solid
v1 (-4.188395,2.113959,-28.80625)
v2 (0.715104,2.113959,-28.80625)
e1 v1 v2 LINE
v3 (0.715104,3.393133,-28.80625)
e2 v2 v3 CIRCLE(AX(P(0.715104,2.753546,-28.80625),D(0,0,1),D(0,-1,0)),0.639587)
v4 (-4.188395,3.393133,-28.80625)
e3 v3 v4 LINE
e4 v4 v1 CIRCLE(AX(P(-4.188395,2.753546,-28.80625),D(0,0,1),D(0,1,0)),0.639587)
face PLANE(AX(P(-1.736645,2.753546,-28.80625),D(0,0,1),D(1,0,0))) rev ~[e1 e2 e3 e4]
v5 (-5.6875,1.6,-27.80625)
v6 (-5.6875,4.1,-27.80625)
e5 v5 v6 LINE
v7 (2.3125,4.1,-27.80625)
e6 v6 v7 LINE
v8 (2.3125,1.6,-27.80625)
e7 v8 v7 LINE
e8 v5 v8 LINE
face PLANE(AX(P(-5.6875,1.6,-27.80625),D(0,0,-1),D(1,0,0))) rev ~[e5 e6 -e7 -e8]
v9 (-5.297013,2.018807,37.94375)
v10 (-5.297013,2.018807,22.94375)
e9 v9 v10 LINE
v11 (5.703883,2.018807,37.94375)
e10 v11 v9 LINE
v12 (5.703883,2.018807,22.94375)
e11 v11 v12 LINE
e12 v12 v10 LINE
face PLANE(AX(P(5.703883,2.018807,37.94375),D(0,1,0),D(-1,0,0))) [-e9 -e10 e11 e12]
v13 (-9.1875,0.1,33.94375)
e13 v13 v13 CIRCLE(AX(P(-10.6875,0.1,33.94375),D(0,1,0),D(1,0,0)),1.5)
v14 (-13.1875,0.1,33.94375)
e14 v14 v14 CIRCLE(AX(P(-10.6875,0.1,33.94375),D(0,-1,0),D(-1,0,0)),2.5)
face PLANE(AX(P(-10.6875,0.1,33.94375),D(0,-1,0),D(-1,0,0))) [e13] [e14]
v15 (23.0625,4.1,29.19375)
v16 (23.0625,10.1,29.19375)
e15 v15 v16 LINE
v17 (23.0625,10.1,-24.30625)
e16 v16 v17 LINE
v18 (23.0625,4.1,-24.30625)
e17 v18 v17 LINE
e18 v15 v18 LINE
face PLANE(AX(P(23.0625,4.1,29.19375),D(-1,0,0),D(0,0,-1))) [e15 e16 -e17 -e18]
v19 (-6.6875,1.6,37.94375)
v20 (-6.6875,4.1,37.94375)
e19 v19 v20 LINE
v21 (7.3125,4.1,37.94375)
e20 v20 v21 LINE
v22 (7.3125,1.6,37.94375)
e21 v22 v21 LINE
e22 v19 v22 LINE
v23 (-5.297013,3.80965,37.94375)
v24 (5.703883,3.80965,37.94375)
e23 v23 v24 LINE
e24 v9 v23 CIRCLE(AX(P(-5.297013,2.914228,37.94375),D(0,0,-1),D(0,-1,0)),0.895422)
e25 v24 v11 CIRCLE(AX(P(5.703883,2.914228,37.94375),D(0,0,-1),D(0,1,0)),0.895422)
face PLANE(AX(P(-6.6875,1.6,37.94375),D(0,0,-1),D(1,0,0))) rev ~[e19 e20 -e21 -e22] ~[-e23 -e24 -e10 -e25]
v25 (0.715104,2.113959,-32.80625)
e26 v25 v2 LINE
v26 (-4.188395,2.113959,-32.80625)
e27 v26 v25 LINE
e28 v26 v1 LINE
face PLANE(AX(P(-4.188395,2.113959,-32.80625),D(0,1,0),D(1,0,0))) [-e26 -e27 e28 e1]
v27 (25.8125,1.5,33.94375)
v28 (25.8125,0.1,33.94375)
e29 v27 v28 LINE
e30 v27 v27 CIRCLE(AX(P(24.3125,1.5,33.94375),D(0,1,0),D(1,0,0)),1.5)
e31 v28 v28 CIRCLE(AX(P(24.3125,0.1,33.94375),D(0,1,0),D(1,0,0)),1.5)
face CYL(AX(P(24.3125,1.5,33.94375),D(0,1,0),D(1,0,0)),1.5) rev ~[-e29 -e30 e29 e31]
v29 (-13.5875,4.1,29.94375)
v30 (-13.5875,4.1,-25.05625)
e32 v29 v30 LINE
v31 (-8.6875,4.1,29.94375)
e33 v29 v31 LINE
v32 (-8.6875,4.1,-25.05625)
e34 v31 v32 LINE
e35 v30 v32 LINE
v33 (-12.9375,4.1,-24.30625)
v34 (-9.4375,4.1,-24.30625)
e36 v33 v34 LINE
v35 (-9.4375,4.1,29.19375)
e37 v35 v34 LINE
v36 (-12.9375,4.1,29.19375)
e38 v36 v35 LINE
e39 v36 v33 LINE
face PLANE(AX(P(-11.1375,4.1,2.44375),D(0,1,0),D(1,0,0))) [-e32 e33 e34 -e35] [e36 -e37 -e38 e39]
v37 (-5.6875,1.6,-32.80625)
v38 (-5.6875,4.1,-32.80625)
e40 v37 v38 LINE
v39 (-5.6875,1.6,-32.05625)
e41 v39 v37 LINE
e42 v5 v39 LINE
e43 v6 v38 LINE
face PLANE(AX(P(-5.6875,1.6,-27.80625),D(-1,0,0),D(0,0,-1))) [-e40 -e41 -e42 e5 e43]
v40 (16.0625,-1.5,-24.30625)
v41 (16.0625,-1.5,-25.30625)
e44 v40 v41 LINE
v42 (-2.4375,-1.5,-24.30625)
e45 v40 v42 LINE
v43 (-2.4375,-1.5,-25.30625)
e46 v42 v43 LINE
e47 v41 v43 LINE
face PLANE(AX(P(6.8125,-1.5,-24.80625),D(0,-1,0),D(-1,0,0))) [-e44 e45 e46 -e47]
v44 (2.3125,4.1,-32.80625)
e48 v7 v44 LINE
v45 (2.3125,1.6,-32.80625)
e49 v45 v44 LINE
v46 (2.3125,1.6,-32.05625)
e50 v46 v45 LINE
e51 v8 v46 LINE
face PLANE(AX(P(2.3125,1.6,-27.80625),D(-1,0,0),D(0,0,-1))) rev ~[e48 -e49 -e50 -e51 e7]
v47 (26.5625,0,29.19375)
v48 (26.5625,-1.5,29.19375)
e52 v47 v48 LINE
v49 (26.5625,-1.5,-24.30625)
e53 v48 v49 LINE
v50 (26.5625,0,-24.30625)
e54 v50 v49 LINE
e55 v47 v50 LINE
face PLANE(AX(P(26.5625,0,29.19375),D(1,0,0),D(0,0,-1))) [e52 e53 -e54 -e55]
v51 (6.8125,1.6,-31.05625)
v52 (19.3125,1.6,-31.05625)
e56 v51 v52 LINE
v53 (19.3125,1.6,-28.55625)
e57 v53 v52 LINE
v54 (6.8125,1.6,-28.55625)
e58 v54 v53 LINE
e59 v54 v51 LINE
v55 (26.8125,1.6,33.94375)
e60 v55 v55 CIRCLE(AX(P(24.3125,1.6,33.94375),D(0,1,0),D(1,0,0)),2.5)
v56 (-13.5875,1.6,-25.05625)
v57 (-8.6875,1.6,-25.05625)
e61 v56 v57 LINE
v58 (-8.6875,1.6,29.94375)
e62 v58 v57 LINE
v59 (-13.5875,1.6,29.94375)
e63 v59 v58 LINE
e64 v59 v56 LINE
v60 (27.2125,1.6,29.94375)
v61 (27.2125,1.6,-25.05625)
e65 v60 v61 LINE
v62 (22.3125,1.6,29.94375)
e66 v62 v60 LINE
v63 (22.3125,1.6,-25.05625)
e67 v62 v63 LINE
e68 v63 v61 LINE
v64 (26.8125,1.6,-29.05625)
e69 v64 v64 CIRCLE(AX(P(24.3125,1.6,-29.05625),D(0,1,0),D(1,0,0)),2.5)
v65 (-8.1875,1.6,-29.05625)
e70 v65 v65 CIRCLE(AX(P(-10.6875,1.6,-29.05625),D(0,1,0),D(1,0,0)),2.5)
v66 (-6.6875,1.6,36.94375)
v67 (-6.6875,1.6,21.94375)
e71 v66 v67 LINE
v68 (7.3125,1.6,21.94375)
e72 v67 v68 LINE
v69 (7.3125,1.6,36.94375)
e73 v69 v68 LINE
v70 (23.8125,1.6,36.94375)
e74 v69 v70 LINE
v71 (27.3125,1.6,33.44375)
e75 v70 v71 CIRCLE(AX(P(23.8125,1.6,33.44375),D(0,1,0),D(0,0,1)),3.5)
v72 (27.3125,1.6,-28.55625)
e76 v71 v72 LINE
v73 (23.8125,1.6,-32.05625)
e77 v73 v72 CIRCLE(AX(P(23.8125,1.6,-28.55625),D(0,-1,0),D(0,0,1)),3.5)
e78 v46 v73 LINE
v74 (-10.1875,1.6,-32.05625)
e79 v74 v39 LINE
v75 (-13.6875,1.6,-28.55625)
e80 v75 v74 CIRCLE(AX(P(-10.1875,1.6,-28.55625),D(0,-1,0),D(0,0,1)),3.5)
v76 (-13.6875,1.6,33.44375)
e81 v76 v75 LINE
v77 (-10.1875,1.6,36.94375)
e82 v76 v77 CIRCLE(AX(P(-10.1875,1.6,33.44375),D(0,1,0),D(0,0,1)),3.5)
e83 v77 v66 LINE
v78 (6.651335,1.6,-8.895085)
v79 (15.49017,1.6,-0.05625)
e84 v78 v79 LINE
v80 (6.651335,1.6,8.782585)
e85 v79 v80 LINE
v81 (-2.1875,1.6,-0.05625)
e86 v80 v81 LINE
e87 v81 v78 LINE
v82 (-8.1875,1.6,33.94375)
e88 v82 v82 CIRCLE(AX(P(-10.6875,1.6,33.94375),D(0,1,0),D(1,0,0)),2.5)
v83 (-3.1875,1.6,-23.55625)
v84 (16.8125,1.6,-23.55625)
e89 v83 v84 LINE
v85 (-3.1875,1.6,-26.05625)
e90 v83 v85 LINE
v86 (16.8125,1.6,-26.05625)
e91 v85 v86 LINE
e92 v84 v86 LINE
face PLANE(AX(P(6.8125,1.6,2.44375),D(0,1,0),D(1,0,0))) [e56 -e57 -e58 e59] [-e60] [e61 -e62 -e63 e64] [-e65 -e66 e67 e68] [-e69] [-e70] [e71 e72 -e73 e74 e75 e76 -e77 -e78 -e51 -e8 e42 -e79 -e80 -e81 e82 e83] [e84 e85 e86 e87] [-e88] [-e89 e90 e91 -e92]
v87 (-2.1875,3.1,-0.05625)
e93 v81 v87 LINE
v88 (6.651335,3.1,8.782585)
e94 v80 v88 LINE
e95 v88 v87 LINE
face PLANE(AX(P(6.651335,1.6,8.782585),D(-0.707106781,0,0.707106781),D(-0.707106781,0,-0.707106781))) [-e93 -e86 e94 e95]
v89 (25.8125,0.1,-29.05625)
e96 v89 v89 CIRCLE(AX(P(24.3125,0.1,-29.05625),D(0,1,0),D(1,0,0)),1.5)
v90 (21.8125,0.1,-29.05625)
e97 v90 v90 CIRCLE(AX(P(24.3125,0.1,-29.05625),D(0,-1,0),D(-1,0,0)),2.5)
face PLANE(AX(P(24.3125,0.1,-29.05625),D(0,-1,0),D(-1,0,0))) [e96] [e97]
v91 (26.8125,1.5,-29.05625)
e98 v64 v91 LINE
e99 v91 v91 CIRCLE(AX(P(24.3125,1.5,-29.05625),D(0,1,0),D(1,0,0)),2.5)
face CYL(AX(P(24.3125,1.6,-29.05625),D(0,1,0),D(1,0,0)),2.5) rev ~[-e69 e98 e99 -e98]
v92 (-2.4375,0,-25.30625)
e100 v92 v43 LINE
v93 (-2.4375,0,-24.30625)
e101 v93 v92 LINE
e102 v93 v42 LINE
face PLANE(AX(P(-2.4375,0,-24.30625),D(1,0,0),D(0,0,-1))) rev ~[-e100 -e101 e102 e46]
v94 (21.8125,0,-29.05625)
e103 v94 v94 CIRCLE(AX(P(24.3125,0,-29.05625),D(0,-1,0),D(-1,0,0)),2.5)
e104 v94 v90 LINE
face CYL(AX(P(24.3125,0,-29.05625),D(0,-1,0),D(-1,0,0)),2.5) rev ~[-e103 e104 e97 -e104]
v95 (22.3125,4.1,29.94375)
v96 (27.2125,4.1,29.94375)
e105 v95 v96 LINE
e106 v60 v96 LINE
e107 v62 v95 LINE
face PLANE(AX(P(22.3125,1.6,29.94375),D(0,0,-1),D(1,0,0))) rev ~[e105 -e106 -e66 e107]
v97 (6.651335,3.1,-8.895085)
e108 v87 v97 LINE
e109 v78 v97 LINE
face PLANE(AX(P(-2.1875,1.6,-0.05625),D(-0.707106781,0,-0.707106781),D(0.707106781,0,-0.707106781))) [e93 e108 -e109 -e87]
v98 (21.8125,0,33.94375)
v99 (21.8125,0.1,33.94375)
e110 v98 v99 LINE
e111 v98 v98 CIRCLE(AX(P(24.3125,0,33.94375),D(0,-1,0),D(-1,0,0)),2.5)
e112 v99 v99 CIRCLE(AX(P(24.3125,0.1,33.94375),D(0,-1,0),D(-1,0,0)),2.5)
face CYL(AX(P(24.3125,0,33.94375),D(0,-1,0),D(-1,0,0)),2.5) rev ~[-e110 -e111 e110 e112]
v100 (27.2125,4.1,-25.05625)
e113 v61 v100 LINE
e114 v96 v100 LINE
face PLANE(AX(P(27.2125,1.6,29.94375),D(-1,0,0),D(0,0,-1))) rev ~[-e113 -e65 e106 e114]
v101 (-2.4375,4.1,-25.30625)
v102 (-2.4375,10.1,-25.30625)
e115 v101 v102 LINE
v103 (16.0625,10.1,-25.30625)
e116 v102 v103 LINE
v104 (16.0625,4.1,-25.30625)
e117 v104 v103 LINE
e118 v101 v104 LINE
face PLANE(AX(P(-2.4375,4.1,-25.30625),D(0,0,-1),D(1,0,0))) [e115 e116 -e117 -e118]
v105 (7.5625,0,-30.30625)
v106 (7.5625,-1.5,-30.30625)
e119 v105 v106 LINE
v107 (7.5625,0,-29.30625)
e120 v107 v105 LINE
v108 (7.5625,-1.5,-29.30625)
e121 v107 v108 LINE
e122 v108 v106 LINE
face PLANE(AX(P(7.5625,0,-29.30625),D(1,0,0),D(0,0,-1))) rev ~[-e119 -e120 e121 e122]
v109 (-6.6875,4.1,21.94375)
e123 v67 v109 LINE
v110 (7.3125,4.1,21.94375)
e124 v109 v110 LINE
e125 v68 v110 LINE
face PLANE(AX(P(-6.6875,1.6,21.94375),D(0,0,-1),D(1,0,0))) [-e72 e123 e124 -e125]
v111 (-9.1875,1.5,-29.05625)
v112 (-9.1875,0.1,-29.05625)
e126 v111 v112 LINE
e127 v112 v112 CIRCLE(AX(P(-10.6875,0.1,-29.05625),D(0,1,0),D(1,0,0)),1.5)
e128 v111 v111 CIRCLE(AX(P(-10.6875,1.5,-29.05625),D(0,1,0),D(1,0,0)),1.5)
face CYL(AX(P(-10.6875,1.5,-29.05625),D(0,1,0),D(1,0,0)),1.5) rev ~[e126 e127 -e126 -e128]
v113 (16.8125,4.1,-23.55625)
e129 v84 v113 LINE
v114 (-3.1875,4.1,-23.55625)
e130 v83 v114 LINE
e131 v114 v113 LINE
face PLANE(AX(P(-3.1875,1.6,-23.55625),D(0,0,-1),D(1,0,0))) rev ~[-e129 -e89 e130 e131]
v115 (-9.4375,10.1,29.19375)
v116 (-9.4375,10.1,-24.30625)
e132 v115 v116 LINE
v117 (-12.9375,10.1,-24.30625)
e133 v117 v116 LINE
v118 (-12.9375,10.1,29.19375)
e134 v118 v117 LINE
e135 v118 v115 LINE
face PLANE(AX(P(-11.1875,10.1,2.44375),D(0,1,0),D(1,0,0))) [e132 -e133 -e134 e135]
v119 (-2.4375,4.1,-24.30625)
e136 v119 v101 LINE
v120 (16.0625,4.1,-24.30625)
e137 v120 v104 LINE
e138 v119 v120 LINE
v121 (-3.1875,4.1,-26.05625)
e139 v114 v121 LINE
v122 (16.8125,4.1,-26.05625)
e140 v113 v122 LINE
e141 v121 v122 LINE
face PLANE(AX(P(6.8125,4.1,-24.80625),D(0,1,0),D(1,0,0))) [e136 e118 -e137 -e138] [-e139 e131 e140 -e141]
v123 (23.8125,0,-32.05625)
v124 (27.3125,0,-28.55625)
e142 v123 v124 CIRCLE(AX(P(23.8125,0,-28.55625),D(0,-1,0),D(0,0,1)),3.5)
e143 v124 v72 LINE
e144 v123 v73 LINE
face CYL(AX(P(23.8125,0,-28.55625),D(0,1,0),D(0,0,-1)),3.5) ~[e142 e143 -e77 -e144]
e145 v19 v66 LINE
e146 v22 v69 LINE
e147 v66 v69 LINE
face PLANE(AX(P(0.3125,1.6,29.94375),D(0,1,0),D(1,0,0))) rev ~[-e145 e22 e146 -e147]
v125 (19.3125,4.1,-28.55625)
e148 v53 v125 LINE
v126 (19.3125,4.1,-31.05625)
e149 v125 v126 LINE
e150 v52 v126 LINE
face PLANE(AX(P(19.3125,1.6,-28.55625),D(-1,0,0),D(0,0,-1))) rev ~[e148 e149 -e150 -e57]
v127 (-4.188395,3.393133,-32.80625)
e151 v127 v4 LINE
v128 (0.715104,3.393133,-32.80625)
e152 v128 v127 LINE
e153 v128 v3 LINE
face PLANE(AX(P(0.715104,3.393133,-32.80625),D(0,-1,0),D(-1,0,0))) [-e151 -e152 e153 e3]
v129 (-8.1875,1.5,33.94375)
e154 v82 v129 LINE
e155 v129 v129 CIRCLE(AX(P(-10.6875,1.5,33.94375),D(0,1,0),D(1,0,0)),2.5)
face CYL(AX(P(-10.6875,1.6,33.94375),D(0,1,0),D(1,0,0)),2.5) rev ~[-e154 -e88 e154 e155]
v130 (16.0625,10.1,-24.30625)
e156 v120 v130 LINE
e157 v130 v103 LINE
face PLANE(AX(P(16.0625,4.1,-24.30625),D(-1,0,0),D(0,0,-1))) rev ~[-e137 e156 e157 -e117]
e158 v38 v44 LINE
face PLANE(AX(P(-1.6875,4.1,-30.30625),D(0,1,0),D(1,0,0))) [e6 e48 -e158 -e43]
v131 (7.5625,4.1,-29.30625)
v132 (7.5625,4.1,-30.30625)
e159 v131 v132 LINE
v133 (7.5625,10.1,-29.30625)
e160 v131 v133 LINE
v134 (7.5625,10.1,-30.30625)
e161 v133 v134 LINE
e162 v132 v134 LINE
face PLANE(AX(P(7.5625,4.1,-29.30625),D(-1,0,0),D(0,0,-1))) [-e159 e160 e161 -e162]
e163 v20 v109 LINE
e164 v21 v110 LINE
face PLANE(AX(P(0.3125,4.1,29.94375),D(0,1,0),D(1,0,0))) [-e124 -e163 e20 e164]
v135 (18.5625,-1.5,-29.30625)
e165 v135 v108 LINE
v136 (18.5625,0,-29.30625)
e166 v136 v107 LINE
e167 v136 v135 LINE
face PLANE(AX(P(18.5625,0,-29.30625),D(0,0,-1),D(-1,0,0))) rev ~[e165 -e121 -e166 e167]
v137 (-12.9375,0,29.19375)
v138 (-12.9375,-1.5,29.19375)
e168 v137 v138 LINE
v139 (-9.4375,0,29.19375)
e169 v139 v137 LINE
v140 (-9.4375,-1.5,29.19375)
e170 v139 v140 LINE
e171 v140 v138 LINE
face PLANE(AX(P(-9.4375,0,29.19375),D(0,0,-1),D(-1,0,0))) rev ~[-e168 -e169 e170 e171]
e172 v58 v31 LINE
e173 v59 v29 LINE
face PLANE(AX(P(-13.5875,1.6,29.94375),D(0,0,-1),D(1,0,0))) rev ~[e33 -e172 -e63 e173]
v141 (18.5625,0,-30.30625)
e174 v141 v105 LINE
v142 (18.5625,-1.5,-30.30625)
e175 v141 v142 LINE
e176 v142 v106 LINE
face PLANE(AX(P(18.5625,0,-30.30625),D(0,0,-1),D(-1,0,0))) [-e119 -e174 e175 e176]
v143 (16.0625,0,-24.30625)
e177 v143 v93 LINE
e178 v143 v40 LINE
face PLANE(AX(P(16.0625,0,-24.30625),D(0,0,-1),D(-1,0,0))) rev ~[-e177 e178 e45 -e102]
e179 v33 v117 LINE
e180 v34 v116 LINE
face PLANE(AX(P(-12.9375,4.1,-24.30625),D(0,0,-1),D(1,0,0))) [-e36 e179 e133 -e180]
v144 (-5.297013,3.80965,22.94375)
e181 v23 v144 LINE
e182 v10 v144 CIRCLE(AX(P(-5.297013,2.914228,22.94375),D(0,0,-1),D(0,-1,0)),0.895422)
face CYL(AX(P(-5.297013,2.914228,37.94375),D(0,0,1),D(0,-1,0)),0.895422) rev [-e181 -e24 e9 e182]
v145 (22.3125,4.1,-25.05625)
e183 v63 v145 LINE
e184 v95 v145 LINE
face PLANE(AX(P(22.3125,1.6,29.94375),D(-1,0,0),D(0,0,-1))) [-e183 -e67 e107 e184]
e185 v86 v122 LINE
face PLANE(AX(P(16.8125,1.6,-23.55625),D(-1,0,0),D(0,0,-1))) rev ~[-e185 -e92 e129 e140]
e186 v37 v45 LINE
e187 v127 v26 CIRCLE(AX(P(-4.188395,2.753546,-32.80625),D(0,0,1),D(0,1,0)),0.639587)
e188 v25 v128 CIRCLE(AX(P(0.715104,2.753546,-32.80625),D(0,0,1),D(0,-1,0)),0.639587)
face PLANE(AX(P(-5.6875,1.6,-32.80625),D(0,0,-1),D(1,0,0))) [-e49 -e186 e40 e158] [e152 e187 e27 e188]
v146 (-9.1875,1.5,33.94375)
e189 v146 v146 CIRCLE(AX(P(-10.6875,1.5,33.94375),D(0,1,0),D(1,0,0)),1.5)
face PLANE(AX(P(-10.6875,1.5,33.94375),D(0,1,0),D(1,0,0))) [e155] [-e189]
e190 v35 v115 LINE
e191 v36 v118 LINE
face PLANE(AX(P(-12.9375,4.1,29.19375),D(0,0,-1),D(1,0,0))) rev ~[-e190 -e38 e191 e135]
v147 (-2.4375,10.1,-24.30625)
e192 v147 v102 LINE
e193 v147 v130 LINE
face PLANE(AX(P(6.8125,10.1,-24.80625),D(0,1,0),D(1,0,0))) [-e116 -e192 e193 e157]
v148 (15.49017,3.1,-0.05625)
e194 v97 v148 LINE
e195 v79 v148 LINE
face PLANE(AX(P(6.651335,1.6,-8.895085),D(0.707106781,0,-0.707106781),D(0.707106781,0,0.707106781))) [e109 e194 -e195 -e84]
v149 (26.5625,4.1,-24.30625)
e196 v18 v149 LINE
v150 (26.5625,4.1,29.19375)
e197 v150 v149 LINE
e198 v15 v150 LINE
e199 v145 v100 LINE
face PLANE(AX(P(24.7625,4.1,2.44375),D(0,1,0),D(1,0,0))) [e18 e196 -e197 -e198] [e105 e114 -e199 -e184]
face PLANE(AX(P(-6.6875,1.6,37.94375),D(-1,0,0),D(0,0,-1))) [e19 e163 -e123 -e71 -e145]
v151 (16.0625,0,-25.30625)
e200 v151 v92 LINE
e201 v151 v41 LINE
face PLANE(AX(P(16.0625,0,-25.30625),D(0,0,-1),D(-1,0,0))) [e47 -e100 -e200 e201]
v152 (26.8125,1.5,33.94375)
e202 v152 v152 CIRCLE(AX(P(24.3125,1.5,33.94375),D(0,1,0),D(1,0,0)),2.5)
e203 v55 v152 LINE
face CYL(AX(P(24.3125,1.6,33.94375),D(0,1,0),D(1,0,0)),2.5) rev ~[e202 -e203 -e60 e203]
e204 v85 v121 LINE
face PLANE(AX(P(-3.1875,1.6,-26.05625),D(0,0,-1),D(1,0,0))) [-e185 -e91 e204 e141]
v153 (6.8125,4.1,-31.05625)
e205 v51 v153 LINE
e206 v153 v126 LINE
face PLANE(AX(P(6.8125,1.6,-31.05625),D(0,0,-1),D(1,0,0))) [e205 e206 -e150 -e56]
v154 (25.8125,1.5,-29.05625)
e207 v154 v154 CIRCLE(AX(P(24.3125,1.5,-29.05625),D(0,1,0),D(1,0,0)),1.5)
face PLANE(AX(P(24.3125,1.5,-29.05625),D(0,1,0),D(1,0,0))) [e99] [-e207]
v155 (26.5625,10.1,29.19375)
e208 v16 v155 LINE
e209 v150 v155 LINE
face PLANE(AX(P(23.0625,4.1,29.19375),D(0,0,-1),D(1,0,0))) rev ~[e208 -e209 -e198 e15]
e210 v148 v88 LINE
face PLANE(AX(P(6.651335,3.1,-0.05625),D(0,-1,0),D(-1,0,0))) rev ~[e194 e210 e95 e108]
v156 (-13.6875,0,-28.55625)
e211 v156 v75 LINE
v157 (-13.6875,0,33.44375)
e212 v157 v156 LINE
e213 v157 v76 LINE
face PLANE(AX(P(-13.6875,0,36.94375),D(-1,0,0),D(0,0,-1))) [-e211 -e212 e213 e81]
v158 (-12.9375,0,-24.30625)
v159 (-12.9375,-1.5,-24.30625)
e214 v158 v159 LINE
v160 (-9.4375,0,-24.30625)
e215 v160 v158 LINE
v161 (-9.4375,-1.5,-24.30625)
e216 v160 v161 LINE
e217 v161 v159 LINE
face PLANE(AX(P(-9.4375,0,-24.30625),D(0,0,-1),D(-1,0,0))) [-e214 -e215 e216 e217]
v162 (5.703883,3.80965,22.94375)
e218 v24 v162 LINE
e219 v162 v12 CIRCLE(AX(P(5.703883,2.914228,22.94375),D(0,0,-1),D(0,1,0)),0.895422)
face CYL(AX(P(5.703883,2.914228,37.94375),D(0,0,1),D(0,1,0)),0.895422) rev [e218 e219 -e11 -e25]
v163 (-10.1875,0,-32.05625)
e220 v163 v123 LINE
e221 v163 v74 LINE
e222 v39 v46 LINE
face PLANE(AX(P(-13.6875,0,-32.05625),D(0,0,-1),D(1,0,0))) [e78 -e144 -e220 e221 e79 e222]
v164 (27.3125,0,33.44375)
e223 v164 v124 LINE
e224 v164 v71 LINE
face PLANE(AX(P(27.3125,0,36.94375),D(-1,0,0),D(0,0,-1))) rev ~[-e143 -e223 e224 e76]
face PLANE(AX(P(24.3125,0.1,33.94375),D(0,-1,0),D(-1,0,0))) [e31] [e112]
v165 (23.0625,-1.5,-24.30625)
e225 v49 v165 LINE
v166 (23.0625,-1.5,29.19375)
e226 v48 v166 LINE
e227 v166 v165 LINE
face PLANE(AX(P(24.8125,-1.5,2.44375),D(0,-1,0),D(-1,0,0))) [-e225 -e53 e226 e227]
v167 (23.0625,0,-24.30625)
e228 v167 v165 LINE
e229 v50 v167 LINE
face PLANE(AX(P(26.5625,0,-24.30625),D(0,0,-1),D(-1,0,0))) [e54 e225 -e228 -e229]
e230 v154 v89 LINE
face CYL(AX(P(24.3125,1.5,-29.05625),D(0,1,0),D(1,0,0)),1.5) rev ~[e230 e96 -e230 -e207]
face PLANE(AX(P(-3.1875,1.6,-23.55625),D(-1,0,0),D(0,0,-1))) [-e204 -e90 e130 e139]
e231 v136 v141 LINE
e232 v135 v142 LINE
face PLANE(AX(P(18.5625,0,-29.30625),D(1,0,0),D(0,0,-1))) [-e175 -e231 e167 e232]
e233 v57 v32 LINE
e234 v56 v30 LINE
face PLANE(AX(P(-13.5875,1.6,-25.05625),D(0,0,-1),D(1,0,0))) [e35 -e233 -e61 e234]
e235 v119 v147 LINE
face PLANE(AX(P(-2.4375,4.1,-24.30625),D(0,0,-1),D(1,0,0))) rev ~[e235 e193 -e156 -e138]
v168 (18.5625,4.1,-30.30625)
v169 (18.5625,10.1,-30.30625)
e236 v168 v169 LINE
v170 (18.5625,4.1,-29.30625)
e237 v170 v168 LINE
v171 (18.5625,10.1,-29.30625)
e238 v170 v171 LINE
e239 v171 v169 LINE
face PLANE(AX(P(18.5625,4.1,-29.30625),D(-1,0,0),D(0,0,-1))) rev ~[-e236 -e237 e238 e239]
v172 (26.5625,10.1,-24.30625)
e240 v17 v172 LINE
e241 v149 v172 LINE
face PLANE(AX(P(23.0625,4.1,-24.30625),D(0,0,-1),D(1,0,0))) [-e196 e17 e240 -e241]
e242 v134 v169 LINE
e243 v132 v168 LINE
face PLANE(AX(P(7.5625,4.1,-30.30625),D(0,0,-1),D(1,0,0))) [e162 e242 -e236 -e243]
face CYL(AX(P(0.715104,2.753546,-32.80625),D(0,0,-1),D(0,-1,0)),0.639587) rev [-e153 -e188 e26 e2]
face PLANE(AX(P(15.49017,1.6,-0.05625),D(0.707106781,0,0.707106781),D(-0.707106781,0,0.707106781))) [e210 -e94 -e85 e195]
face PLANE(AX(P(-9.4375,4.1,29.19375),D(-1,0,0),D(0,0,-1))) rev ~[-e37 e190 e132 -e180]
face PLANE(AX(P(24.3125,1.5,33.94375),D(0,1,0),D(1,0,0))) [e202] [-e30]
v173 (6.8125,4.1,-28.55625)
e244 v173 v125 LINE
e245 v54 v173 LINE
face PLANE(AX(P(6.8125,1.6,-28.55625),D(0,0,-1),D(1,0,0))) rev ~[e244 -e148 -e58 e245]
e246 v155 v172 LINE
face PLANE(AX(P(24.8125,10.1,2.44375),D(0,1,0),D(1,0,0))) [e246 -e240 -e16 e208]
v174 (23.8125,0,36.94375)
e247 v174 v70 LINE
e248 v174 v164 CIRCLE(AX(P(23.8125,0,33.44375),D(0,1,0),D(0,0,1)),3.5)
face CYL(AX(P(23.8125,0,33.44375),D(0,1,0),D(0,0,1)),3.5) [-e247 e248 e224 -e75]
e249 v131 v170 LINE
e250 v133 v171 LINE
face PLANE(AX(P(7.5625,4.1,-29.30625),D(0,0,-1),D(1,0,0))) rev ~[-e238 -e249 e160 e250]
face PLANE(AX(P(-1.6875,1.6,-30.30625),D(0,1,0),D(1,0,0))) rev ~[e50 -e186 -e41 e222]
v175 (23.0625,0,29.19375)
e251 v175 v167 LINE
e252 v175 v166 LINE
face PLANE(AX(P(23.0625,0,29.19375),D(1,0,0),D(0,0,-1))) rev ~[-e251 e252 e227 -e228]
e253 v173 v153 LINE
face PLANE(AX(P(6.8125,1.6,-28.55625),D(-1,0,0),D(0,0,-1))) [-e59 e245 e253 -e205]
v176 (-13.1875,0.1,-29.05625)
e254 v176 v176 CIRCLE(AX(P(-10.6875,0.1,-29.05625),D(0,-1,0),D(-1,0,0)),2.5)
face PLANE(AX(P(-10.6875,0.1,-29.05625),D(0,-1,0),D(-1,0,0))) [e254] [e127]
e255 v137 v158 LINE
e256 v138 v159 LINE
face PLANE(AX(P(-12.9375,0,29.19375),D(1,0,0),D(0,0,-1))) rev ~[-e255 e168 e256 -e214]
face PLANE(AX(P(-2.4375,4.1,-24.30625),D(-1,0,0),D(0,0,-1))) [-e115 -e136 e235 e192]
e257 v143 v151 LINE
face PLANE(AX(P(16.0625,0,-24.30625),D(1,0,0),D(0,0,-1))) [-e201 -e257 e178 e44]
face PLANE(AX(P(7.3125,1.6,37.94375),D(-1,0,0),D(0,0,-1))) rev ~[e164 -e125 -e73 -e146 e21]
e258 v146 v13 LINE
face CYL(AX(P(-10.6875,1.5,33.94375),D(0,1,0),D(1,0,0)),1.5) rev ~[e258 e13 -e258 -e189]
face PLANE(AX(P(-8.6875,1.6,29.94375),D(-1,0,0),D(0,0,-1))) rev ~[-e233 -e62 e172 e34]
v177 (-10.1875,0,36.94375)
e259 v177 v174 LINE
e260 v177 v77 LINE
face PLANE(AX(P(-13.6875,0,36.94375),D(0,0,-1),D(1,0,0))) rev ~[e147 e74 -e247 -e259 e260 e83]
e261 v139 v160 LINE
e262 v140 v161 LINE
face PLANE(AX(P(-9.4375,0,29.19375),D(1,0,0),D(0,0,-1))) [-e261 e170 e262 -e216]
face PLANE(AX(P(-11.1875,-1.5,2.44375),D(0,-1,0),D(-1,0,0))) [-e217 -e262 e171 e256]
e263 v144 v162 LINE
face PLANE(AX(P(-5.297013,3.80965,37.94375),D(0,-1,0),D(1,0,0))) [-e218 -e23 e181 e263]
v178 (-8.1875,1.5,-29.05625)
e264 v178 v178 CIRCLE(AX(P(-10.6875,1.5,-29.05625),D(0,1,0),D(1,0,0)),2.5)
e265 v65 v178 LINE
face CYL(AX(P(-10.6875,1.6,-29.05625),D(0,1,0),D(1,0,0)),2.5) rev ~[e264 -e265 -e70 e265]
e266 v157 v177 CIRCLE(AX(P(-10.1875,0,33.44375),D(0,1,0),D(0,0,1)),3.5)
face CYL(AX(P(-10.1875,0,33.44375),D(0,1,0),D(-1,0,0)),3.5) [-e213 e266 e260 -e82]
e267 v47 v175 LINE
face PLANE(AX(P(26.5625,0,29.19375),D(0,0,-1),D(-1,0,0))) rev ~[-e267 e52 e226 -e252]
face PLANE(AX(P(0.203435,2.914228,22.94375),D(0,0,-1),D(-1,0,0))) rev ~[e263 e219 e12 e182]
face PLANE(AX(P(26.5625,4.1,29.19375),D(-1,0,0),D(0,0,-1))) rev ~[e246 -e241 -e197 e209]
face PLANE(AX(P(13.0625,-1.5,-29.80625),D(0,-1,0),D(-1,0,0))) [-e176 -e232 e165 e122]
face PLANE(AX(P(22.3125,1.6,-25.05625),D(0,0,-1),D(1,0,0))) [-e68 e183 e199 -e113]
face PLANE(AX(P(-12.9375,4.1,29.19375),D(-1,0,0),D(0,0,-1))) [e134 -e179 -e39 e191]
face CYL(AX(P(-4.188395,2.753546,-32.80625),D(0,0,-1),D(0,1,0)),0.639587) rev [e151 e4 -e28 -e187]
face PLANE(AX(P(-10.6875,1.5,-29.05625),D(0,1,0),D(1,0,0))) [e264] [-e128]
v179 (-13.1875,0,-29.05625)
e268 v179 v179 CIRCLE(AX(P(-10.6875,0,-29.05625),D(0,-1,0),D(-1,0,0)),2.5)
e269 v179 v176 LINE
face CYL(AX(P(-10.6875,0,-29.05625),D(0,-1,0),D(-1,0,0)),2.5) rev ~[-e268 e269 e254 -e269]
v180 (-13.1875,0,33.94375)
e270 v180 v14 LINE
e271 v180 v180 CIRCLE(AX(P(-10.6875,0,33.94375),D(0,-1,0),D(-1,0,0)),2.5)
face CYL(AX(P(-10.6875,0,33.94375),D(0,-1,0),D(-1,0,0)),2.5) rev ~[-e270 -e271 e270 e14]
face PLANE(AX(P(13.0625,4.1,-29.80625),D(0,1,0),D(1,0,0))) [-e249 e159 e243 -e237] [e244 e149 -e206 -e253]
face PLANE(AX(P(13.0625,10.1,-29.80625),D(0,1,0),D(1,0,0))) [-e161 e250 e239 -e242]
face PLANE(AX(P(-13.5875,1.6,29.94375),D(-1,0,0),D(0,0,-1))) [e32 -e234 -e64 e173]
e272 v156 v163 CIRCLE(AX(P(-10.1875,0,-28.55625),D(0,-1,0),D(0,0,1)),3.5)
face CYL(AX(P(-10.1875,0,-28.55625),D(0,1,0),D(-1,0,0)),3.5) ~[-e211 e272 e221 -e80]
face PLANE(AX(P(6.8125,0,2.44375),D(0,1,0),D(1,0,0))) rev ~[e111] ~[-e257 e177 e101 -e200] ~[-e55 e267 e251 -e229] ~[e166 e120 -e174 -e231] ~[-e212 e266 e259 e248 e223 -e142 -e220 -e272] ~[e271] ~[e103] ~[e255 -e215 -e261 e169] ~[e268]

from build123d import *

# Parameters (mm, degrees)
SKETCH_1_W          = 41
SKETCH_1_H          = 69
EXTRUDE_1_DEPTH     = 1.6
SKETCH_3_R          = 2.5
CUT_EXTRUDE_1_DEPTH = 0.1
FILLET_4_R          = 3.5
SKETCH_4_R          = 1.5
CUT_EXTRUDE_2_DEPTH = 1.9
SKETCH_5_W          = 4.9
SKETCH_5_H          = 55
EXTRUDE_2_DEPTH     = 2.5
SKETCH_6_W          = 4.9
SKETCH_6_H          = 55
EXTRUDE_3_DEPTH     = 2.5
SKETCH_7_W          = 20
SKETCH_7_H          = 2.5
EXTRUDE_4_DEPTH     = 2.5
SKETCH_8_W          = 12.5
SKETCH_8_H          = 2.5
EXTRUDE_5_DEPTH     = 2.5
SKETCH_9_W          = 8
SKETCH_9_H          = 5
EXTRUDE_6_DEPTH     = 2.5
CUT_EXTRUDE_3_DEPTH = 4
EXTRUDE_7_DEPTH     = 1.5
SKETCH_12_W         = 3.5
SKETCH_12_H         = 53.5
EXTRUDE_8_DEPTH     = 6
SKETCH_13_W         = 3.5
SKETCH_13_H         = 53.5
EXTRUDE_9_DEPTH     = 6
SKETCH_14_W         = 18.5
SKETCH_14_H         = 1
EXTRUDE_10_DEPTH    = 6
SKETCH_15_W         = 11
SKETCH_15_H         = 1
EXTRUDE_11_DEPTH    = 6
SKETCH_16_W         = 3.5
SKETCH_16_H         = 53.5
SKETCH_16_W_2       = 18.5
SKETCH_16_H_2       = 1
SKETCH_16_W_3       = 11
EXTRUDE_12_DEPTH    = 1.5
SKETCH_17_R         = 2.5
CUT_EXTRUDE_4_DEPTH = 0.1
SKETCH_18_W         = 14
SKETCH_18_H         = 16
EXTRUDE_13_DEPTH    = 2.5
CUT_EXTRUDE_5_DEPTH = 15


with BuildPart() as part:
    # Эскиз1 → Бобышка-Вытянуть1 (new body)
    with BuildSketch(Plane(origin=(0, 0, 0), x_dir=(1, 0, 0), z_dir=(0, 1, 0))):
        with Locations((6.8125, -2.44375)):
            Rectangle(SKETCH_1_W, SKETCH_1_H)
    extrude(amount=EXTRUDE_1_DEPTH)

    # Эскиз3 → Вырез-Вытянуть1 (cut)
    with BuildSketch(Plane(origin=(0, 1.6, 0), x_dir=(1, 0, 0), z_dir=(0, 1, 0))):
        with Locations((-10.6875, 29.05625)):
            Circle(SKETCH_3_R)
        with Locations((24.3125, 29.05625)):
            Circle(SKETCH_3_R)
        with Locations((-10.6875, -33.94375)):
            Circle(SKETCH_3_R)
        with Locations((24.3125, -33.94375)):
            Circle(SKETCH_3_R)
    extrude(amount=-CUT_EXTRUDE_1_DEPTH, mode=Mode.SUBTRACT)

    # Скругление4
    fillet_4_edges = [part.edges().sort_by_distance(p)[0] for p in [
        (-13.6875, 0.8, -32.05625),
        (27.3125, 0.8, -32.05625),
        (27.3125, 0.8, 36.94375),
        (-13.6875, 0.8, 36.94375),
    ]]
    fillet(fillet_4_edges, radius=FILLET_4_R)

    # Эскиз4 → Вырез-Вытянуть2 (cut)
    with BuildSketch(Plane(origin=(0, 1.5, 0), x_dir=(1, 0, 0), z_dir=(0, 1, 0))):
        with Locations((-10.6875, 29.05625)):
            Circle(SKETCH_4_R)
        with Locations((24.3125, 29.05625)):
            Circle(SKETCH_4_R)
        with Locations((-10.6875, -33.94375)):
            Circle(SKETCH_4_R)
        with Locations((24.3125, -33.94375)):
            Circle(SKETCH_4_R)
    extrude(amount=-CUT_EXTRUDE_2_DEPTH, mode=Mode.SUBTRACT)

    # Эскиз5 → Бобышка-Вытянуть2 (add)
    with BuildSketch(Plane(origin=(0, 1.6, 0), x_dir=(1, 0, 0), z_dir=(0, 1, 0))):
        with Locations((-11.1375, -2.44375)):
            Rectangle(SKETCH_5_W, SKETCH_5_H)
    extrude(amount=EXTRUDE_2_DEPTH)

    # Эскиз6 → Бобышка-Вытянуть3 (add)
    with BuildSketch(Plane(origin=(0, 1.6, 0), x_dir=(1, 0, 0), z_dir=(0, 1, 0))):
        with Locations((24.7625, -2.44375)):
            Rectangle(SKETCH_6_W, SKETCH_6_H)
    extrude(amount=EXTRUDE_3_DEPTH)

    # Эскиз7 → Бобышка-Вытянуть4 (add)
    with BuildSketch(Plane(origin=(0, 1.6, 0), x_dir=(1, 0, 0), z_dir=(0, 1, 0))):
        with Locations((6.8125, 24.80625)):
            Rectangle(SKETCH_7_W, SKETCH_7_H)
    extrude(amount=EXTRUDE_4_DEPTH)

    # Эскиз8 → Бобышка-Вытянуть5 (add)
    with BuildSketch(Plane(origin=(0, 1.6, 0), x_dir=(1, 0, 0), z_dir=(0, 1, 0))):
        with Locations((13.0625, 29.80625)):
            Rectangle(SKETCH_8_W, SKETCH_8_H)
    extrude(amount=EXTRUDE_5_DEPTH)

    # Эскиз9 → Бобышка-Вытянуть6 (add)
    with BuildSketch(Plane(origin=(0, 1.6, 0), x_dir=(1, 0, 0), z_dir=(0, 1, 0))):
        with Locations((-1.6875, 30.30625)):
            Rectangle(SKETCH_9_W, SKETCH_9_H)
    extrude(amount=EXTRUDE_6_DEPTH)

    # Эскиз10 → Вырез-Вытянуть3 (cut)
    with BuildSketch(Plane(origin=(0, 0, -32.80625), x_dir=(-1, 0, 0), z_dir=(0, 0, -1))):
        with BuildLine():
            Line((-0.715104459, 3.393132584), (4.188395452, 3.393132584))
            ThreePointArc((4.188395452, 3.393132584), (4.827982397, 2.753545639), (4.188395452, 2.113958694))
            Line((4.188395452, 2.113958694), (-0.715104459, 2.113958694))
            ThreePointArc((-0.715104459, 2.113958694), (-1.354691404, 2.753545639), (-0.715104459, 3.393132584))
        make_face()
    extrude(amount=-CUT_EXTRUDE_3_DEPTH, mode=Mode.SUBTRACT)

    # Эскиз11 → Бобышка-Вытянуть7 (add)
    with BuildSketch(Plane(origin=(0, 1.6, 0), x_dir=(1, 0, 0), z_dir=(0, 1, 0))):
        Polygon((-2.1875, 0.05625), (6.651334765, 8.895084765), (15.49016953, 0.05625), (6.651334765, -8.782584765), align=None)
    extrude(amount=EXTRUDE_7_DEPTH)

    # Эскиз12 → Бобышка-Вытянуть8 (add)
    with BuildSketch(Plane(origin=(0, 4.1, 0), x_dir=(1, 0, 0), z_dir=(0, 1, 0))):
        with Locations((-11.1875, -2.44375)):
            Rectangle(SKETCH_12_W, SKETCH_12_H)
    extrude(amount=EXTRUDE_8_DEPTH)

    # Эскиз13 → Бобышка-Вытянуть9 (add)
    with BuildSketch(Plane(origin=(0, 4.1, 0), x_dir=(1, 0, 0), z_dir=(0, 1, 0))):
        with Locations((24.8125, -2.44375)):
            Rectangle(SKETCH_13_W, SKETCH_13_H)
    extrude(amount=EXTRUDE_9_DEPTH)

    # Эскиз14 → Бобышка-Вытянуть10 (add)
    with BuildSketch(Plane(origin=(0, 4.1, 0), x_dir=(1, 0, 0), z_dir=(0, 1, 0))):
        with Locations((6.8125, 24.80625)):
            Rectangle(SKETCH_14_W, SKETCH_14_H)
    extrude(amount=EXTRUDE_10_DEPTH)

    # Эскиз15 → Бобышка-Вытянуть11 (add)
    with BuildSketch(Plane(origin=(0, 4.1, 0), x_dir=(1, 0, 0), z_dir=(0, 1, 0))):
        with Locations((13.0625, 29.80625)):
            Rectangle(SKETCH_15_W, SKETCH_15_H)
    extrude(amount=EXTRUDE_11_DEPTH)

    # Эскиз16 → Бобышка-Вытянуть12 (add)
    with BuildSketch(Plane(origin=(0, 0, 0), x_dir=(-1, 0, 0), z_dir=(0, -1, 0))):
        with Locations((11.1875, -2.44375)):
            Rectangle(SKETCH_16_W, SKETCH_16_H)
        with Locations((-24.8125, -2.44375)):
            Rectangle(SKETCH_16_W, SKETCH_16_H)
        with Locations((-6.8125, 24.80625)):
            Rectangle(SKETCH_16_W_2, SKETCH_16_H_2)
        with Locations((-13.0625, 29.80625)):
            Rectangle(SKETCH_16_W_3, SKETCH_16_H_2)
    extrude(amount=EXTRUDE_12_DEPTH)

    # Эскиз17 → Вырез-Вытянуть4 (cut)
    with BuildSketch(Plane(origin=(0, 0, 0), x_dir=(-1, 0, 0), z_dir=(0, -1, 0))):
        with Locations((10.6875, -33.94375)):
            Circle(SKETCH_17_R)
        with Locations((-24.3125, -33.94375)):
            Circle(SKETCH_17_R)
        with Locations((10.6875, 29.05625)):
            Circle(SKETCH_17_R)
        with Locations((-24.3125, 29.05625)):
            Circle(SKETCH_17_R)
    extrude(amount=-CUT_EXTRUDE_4_DEPTH, mode=Mode.SUBTRACT)

    # Эскиз18 → Бобышка-Вытянуть13 (add)
    with BuildSketch(Plane(origin=(0, 1.6, 0), x_dir=(1, 0, 0), z_dir=(0, 1, 0))):
        with Locations((0.3125, -29.94375)):
            Rectangle(SKETCH_18_W, SKETCH_18_H)
    extrude(amount=EXTRUDE_13_DEPTH)

    # Эскиз19 → Вырез-Вытянуть5 (cut)
    with BuildSketch(Plane.XY.offset(37.94375)):
        with BuildLine():
            Line((-5.297012823, 3.809650009), (5.703882629, 3.809650009))
            ThreePointArc((5.703882629, 3.809650009), (6.599304352, 2.914228286), (5.703882629, 2.018806563))
            Line((5.703882629, 2.018806563), (-5.297012823, 2.018806563))
            ThreePointArc((-5.297012823, 2.018806563), (-6.192434546, 2.914228286), (-5.297012823, 3.809650009))
        make_face()
    extrude(amount=-CUT_EXTRUDE_5_DEPTH, mode=Mode.SUBTRACT)


solid = part.part
